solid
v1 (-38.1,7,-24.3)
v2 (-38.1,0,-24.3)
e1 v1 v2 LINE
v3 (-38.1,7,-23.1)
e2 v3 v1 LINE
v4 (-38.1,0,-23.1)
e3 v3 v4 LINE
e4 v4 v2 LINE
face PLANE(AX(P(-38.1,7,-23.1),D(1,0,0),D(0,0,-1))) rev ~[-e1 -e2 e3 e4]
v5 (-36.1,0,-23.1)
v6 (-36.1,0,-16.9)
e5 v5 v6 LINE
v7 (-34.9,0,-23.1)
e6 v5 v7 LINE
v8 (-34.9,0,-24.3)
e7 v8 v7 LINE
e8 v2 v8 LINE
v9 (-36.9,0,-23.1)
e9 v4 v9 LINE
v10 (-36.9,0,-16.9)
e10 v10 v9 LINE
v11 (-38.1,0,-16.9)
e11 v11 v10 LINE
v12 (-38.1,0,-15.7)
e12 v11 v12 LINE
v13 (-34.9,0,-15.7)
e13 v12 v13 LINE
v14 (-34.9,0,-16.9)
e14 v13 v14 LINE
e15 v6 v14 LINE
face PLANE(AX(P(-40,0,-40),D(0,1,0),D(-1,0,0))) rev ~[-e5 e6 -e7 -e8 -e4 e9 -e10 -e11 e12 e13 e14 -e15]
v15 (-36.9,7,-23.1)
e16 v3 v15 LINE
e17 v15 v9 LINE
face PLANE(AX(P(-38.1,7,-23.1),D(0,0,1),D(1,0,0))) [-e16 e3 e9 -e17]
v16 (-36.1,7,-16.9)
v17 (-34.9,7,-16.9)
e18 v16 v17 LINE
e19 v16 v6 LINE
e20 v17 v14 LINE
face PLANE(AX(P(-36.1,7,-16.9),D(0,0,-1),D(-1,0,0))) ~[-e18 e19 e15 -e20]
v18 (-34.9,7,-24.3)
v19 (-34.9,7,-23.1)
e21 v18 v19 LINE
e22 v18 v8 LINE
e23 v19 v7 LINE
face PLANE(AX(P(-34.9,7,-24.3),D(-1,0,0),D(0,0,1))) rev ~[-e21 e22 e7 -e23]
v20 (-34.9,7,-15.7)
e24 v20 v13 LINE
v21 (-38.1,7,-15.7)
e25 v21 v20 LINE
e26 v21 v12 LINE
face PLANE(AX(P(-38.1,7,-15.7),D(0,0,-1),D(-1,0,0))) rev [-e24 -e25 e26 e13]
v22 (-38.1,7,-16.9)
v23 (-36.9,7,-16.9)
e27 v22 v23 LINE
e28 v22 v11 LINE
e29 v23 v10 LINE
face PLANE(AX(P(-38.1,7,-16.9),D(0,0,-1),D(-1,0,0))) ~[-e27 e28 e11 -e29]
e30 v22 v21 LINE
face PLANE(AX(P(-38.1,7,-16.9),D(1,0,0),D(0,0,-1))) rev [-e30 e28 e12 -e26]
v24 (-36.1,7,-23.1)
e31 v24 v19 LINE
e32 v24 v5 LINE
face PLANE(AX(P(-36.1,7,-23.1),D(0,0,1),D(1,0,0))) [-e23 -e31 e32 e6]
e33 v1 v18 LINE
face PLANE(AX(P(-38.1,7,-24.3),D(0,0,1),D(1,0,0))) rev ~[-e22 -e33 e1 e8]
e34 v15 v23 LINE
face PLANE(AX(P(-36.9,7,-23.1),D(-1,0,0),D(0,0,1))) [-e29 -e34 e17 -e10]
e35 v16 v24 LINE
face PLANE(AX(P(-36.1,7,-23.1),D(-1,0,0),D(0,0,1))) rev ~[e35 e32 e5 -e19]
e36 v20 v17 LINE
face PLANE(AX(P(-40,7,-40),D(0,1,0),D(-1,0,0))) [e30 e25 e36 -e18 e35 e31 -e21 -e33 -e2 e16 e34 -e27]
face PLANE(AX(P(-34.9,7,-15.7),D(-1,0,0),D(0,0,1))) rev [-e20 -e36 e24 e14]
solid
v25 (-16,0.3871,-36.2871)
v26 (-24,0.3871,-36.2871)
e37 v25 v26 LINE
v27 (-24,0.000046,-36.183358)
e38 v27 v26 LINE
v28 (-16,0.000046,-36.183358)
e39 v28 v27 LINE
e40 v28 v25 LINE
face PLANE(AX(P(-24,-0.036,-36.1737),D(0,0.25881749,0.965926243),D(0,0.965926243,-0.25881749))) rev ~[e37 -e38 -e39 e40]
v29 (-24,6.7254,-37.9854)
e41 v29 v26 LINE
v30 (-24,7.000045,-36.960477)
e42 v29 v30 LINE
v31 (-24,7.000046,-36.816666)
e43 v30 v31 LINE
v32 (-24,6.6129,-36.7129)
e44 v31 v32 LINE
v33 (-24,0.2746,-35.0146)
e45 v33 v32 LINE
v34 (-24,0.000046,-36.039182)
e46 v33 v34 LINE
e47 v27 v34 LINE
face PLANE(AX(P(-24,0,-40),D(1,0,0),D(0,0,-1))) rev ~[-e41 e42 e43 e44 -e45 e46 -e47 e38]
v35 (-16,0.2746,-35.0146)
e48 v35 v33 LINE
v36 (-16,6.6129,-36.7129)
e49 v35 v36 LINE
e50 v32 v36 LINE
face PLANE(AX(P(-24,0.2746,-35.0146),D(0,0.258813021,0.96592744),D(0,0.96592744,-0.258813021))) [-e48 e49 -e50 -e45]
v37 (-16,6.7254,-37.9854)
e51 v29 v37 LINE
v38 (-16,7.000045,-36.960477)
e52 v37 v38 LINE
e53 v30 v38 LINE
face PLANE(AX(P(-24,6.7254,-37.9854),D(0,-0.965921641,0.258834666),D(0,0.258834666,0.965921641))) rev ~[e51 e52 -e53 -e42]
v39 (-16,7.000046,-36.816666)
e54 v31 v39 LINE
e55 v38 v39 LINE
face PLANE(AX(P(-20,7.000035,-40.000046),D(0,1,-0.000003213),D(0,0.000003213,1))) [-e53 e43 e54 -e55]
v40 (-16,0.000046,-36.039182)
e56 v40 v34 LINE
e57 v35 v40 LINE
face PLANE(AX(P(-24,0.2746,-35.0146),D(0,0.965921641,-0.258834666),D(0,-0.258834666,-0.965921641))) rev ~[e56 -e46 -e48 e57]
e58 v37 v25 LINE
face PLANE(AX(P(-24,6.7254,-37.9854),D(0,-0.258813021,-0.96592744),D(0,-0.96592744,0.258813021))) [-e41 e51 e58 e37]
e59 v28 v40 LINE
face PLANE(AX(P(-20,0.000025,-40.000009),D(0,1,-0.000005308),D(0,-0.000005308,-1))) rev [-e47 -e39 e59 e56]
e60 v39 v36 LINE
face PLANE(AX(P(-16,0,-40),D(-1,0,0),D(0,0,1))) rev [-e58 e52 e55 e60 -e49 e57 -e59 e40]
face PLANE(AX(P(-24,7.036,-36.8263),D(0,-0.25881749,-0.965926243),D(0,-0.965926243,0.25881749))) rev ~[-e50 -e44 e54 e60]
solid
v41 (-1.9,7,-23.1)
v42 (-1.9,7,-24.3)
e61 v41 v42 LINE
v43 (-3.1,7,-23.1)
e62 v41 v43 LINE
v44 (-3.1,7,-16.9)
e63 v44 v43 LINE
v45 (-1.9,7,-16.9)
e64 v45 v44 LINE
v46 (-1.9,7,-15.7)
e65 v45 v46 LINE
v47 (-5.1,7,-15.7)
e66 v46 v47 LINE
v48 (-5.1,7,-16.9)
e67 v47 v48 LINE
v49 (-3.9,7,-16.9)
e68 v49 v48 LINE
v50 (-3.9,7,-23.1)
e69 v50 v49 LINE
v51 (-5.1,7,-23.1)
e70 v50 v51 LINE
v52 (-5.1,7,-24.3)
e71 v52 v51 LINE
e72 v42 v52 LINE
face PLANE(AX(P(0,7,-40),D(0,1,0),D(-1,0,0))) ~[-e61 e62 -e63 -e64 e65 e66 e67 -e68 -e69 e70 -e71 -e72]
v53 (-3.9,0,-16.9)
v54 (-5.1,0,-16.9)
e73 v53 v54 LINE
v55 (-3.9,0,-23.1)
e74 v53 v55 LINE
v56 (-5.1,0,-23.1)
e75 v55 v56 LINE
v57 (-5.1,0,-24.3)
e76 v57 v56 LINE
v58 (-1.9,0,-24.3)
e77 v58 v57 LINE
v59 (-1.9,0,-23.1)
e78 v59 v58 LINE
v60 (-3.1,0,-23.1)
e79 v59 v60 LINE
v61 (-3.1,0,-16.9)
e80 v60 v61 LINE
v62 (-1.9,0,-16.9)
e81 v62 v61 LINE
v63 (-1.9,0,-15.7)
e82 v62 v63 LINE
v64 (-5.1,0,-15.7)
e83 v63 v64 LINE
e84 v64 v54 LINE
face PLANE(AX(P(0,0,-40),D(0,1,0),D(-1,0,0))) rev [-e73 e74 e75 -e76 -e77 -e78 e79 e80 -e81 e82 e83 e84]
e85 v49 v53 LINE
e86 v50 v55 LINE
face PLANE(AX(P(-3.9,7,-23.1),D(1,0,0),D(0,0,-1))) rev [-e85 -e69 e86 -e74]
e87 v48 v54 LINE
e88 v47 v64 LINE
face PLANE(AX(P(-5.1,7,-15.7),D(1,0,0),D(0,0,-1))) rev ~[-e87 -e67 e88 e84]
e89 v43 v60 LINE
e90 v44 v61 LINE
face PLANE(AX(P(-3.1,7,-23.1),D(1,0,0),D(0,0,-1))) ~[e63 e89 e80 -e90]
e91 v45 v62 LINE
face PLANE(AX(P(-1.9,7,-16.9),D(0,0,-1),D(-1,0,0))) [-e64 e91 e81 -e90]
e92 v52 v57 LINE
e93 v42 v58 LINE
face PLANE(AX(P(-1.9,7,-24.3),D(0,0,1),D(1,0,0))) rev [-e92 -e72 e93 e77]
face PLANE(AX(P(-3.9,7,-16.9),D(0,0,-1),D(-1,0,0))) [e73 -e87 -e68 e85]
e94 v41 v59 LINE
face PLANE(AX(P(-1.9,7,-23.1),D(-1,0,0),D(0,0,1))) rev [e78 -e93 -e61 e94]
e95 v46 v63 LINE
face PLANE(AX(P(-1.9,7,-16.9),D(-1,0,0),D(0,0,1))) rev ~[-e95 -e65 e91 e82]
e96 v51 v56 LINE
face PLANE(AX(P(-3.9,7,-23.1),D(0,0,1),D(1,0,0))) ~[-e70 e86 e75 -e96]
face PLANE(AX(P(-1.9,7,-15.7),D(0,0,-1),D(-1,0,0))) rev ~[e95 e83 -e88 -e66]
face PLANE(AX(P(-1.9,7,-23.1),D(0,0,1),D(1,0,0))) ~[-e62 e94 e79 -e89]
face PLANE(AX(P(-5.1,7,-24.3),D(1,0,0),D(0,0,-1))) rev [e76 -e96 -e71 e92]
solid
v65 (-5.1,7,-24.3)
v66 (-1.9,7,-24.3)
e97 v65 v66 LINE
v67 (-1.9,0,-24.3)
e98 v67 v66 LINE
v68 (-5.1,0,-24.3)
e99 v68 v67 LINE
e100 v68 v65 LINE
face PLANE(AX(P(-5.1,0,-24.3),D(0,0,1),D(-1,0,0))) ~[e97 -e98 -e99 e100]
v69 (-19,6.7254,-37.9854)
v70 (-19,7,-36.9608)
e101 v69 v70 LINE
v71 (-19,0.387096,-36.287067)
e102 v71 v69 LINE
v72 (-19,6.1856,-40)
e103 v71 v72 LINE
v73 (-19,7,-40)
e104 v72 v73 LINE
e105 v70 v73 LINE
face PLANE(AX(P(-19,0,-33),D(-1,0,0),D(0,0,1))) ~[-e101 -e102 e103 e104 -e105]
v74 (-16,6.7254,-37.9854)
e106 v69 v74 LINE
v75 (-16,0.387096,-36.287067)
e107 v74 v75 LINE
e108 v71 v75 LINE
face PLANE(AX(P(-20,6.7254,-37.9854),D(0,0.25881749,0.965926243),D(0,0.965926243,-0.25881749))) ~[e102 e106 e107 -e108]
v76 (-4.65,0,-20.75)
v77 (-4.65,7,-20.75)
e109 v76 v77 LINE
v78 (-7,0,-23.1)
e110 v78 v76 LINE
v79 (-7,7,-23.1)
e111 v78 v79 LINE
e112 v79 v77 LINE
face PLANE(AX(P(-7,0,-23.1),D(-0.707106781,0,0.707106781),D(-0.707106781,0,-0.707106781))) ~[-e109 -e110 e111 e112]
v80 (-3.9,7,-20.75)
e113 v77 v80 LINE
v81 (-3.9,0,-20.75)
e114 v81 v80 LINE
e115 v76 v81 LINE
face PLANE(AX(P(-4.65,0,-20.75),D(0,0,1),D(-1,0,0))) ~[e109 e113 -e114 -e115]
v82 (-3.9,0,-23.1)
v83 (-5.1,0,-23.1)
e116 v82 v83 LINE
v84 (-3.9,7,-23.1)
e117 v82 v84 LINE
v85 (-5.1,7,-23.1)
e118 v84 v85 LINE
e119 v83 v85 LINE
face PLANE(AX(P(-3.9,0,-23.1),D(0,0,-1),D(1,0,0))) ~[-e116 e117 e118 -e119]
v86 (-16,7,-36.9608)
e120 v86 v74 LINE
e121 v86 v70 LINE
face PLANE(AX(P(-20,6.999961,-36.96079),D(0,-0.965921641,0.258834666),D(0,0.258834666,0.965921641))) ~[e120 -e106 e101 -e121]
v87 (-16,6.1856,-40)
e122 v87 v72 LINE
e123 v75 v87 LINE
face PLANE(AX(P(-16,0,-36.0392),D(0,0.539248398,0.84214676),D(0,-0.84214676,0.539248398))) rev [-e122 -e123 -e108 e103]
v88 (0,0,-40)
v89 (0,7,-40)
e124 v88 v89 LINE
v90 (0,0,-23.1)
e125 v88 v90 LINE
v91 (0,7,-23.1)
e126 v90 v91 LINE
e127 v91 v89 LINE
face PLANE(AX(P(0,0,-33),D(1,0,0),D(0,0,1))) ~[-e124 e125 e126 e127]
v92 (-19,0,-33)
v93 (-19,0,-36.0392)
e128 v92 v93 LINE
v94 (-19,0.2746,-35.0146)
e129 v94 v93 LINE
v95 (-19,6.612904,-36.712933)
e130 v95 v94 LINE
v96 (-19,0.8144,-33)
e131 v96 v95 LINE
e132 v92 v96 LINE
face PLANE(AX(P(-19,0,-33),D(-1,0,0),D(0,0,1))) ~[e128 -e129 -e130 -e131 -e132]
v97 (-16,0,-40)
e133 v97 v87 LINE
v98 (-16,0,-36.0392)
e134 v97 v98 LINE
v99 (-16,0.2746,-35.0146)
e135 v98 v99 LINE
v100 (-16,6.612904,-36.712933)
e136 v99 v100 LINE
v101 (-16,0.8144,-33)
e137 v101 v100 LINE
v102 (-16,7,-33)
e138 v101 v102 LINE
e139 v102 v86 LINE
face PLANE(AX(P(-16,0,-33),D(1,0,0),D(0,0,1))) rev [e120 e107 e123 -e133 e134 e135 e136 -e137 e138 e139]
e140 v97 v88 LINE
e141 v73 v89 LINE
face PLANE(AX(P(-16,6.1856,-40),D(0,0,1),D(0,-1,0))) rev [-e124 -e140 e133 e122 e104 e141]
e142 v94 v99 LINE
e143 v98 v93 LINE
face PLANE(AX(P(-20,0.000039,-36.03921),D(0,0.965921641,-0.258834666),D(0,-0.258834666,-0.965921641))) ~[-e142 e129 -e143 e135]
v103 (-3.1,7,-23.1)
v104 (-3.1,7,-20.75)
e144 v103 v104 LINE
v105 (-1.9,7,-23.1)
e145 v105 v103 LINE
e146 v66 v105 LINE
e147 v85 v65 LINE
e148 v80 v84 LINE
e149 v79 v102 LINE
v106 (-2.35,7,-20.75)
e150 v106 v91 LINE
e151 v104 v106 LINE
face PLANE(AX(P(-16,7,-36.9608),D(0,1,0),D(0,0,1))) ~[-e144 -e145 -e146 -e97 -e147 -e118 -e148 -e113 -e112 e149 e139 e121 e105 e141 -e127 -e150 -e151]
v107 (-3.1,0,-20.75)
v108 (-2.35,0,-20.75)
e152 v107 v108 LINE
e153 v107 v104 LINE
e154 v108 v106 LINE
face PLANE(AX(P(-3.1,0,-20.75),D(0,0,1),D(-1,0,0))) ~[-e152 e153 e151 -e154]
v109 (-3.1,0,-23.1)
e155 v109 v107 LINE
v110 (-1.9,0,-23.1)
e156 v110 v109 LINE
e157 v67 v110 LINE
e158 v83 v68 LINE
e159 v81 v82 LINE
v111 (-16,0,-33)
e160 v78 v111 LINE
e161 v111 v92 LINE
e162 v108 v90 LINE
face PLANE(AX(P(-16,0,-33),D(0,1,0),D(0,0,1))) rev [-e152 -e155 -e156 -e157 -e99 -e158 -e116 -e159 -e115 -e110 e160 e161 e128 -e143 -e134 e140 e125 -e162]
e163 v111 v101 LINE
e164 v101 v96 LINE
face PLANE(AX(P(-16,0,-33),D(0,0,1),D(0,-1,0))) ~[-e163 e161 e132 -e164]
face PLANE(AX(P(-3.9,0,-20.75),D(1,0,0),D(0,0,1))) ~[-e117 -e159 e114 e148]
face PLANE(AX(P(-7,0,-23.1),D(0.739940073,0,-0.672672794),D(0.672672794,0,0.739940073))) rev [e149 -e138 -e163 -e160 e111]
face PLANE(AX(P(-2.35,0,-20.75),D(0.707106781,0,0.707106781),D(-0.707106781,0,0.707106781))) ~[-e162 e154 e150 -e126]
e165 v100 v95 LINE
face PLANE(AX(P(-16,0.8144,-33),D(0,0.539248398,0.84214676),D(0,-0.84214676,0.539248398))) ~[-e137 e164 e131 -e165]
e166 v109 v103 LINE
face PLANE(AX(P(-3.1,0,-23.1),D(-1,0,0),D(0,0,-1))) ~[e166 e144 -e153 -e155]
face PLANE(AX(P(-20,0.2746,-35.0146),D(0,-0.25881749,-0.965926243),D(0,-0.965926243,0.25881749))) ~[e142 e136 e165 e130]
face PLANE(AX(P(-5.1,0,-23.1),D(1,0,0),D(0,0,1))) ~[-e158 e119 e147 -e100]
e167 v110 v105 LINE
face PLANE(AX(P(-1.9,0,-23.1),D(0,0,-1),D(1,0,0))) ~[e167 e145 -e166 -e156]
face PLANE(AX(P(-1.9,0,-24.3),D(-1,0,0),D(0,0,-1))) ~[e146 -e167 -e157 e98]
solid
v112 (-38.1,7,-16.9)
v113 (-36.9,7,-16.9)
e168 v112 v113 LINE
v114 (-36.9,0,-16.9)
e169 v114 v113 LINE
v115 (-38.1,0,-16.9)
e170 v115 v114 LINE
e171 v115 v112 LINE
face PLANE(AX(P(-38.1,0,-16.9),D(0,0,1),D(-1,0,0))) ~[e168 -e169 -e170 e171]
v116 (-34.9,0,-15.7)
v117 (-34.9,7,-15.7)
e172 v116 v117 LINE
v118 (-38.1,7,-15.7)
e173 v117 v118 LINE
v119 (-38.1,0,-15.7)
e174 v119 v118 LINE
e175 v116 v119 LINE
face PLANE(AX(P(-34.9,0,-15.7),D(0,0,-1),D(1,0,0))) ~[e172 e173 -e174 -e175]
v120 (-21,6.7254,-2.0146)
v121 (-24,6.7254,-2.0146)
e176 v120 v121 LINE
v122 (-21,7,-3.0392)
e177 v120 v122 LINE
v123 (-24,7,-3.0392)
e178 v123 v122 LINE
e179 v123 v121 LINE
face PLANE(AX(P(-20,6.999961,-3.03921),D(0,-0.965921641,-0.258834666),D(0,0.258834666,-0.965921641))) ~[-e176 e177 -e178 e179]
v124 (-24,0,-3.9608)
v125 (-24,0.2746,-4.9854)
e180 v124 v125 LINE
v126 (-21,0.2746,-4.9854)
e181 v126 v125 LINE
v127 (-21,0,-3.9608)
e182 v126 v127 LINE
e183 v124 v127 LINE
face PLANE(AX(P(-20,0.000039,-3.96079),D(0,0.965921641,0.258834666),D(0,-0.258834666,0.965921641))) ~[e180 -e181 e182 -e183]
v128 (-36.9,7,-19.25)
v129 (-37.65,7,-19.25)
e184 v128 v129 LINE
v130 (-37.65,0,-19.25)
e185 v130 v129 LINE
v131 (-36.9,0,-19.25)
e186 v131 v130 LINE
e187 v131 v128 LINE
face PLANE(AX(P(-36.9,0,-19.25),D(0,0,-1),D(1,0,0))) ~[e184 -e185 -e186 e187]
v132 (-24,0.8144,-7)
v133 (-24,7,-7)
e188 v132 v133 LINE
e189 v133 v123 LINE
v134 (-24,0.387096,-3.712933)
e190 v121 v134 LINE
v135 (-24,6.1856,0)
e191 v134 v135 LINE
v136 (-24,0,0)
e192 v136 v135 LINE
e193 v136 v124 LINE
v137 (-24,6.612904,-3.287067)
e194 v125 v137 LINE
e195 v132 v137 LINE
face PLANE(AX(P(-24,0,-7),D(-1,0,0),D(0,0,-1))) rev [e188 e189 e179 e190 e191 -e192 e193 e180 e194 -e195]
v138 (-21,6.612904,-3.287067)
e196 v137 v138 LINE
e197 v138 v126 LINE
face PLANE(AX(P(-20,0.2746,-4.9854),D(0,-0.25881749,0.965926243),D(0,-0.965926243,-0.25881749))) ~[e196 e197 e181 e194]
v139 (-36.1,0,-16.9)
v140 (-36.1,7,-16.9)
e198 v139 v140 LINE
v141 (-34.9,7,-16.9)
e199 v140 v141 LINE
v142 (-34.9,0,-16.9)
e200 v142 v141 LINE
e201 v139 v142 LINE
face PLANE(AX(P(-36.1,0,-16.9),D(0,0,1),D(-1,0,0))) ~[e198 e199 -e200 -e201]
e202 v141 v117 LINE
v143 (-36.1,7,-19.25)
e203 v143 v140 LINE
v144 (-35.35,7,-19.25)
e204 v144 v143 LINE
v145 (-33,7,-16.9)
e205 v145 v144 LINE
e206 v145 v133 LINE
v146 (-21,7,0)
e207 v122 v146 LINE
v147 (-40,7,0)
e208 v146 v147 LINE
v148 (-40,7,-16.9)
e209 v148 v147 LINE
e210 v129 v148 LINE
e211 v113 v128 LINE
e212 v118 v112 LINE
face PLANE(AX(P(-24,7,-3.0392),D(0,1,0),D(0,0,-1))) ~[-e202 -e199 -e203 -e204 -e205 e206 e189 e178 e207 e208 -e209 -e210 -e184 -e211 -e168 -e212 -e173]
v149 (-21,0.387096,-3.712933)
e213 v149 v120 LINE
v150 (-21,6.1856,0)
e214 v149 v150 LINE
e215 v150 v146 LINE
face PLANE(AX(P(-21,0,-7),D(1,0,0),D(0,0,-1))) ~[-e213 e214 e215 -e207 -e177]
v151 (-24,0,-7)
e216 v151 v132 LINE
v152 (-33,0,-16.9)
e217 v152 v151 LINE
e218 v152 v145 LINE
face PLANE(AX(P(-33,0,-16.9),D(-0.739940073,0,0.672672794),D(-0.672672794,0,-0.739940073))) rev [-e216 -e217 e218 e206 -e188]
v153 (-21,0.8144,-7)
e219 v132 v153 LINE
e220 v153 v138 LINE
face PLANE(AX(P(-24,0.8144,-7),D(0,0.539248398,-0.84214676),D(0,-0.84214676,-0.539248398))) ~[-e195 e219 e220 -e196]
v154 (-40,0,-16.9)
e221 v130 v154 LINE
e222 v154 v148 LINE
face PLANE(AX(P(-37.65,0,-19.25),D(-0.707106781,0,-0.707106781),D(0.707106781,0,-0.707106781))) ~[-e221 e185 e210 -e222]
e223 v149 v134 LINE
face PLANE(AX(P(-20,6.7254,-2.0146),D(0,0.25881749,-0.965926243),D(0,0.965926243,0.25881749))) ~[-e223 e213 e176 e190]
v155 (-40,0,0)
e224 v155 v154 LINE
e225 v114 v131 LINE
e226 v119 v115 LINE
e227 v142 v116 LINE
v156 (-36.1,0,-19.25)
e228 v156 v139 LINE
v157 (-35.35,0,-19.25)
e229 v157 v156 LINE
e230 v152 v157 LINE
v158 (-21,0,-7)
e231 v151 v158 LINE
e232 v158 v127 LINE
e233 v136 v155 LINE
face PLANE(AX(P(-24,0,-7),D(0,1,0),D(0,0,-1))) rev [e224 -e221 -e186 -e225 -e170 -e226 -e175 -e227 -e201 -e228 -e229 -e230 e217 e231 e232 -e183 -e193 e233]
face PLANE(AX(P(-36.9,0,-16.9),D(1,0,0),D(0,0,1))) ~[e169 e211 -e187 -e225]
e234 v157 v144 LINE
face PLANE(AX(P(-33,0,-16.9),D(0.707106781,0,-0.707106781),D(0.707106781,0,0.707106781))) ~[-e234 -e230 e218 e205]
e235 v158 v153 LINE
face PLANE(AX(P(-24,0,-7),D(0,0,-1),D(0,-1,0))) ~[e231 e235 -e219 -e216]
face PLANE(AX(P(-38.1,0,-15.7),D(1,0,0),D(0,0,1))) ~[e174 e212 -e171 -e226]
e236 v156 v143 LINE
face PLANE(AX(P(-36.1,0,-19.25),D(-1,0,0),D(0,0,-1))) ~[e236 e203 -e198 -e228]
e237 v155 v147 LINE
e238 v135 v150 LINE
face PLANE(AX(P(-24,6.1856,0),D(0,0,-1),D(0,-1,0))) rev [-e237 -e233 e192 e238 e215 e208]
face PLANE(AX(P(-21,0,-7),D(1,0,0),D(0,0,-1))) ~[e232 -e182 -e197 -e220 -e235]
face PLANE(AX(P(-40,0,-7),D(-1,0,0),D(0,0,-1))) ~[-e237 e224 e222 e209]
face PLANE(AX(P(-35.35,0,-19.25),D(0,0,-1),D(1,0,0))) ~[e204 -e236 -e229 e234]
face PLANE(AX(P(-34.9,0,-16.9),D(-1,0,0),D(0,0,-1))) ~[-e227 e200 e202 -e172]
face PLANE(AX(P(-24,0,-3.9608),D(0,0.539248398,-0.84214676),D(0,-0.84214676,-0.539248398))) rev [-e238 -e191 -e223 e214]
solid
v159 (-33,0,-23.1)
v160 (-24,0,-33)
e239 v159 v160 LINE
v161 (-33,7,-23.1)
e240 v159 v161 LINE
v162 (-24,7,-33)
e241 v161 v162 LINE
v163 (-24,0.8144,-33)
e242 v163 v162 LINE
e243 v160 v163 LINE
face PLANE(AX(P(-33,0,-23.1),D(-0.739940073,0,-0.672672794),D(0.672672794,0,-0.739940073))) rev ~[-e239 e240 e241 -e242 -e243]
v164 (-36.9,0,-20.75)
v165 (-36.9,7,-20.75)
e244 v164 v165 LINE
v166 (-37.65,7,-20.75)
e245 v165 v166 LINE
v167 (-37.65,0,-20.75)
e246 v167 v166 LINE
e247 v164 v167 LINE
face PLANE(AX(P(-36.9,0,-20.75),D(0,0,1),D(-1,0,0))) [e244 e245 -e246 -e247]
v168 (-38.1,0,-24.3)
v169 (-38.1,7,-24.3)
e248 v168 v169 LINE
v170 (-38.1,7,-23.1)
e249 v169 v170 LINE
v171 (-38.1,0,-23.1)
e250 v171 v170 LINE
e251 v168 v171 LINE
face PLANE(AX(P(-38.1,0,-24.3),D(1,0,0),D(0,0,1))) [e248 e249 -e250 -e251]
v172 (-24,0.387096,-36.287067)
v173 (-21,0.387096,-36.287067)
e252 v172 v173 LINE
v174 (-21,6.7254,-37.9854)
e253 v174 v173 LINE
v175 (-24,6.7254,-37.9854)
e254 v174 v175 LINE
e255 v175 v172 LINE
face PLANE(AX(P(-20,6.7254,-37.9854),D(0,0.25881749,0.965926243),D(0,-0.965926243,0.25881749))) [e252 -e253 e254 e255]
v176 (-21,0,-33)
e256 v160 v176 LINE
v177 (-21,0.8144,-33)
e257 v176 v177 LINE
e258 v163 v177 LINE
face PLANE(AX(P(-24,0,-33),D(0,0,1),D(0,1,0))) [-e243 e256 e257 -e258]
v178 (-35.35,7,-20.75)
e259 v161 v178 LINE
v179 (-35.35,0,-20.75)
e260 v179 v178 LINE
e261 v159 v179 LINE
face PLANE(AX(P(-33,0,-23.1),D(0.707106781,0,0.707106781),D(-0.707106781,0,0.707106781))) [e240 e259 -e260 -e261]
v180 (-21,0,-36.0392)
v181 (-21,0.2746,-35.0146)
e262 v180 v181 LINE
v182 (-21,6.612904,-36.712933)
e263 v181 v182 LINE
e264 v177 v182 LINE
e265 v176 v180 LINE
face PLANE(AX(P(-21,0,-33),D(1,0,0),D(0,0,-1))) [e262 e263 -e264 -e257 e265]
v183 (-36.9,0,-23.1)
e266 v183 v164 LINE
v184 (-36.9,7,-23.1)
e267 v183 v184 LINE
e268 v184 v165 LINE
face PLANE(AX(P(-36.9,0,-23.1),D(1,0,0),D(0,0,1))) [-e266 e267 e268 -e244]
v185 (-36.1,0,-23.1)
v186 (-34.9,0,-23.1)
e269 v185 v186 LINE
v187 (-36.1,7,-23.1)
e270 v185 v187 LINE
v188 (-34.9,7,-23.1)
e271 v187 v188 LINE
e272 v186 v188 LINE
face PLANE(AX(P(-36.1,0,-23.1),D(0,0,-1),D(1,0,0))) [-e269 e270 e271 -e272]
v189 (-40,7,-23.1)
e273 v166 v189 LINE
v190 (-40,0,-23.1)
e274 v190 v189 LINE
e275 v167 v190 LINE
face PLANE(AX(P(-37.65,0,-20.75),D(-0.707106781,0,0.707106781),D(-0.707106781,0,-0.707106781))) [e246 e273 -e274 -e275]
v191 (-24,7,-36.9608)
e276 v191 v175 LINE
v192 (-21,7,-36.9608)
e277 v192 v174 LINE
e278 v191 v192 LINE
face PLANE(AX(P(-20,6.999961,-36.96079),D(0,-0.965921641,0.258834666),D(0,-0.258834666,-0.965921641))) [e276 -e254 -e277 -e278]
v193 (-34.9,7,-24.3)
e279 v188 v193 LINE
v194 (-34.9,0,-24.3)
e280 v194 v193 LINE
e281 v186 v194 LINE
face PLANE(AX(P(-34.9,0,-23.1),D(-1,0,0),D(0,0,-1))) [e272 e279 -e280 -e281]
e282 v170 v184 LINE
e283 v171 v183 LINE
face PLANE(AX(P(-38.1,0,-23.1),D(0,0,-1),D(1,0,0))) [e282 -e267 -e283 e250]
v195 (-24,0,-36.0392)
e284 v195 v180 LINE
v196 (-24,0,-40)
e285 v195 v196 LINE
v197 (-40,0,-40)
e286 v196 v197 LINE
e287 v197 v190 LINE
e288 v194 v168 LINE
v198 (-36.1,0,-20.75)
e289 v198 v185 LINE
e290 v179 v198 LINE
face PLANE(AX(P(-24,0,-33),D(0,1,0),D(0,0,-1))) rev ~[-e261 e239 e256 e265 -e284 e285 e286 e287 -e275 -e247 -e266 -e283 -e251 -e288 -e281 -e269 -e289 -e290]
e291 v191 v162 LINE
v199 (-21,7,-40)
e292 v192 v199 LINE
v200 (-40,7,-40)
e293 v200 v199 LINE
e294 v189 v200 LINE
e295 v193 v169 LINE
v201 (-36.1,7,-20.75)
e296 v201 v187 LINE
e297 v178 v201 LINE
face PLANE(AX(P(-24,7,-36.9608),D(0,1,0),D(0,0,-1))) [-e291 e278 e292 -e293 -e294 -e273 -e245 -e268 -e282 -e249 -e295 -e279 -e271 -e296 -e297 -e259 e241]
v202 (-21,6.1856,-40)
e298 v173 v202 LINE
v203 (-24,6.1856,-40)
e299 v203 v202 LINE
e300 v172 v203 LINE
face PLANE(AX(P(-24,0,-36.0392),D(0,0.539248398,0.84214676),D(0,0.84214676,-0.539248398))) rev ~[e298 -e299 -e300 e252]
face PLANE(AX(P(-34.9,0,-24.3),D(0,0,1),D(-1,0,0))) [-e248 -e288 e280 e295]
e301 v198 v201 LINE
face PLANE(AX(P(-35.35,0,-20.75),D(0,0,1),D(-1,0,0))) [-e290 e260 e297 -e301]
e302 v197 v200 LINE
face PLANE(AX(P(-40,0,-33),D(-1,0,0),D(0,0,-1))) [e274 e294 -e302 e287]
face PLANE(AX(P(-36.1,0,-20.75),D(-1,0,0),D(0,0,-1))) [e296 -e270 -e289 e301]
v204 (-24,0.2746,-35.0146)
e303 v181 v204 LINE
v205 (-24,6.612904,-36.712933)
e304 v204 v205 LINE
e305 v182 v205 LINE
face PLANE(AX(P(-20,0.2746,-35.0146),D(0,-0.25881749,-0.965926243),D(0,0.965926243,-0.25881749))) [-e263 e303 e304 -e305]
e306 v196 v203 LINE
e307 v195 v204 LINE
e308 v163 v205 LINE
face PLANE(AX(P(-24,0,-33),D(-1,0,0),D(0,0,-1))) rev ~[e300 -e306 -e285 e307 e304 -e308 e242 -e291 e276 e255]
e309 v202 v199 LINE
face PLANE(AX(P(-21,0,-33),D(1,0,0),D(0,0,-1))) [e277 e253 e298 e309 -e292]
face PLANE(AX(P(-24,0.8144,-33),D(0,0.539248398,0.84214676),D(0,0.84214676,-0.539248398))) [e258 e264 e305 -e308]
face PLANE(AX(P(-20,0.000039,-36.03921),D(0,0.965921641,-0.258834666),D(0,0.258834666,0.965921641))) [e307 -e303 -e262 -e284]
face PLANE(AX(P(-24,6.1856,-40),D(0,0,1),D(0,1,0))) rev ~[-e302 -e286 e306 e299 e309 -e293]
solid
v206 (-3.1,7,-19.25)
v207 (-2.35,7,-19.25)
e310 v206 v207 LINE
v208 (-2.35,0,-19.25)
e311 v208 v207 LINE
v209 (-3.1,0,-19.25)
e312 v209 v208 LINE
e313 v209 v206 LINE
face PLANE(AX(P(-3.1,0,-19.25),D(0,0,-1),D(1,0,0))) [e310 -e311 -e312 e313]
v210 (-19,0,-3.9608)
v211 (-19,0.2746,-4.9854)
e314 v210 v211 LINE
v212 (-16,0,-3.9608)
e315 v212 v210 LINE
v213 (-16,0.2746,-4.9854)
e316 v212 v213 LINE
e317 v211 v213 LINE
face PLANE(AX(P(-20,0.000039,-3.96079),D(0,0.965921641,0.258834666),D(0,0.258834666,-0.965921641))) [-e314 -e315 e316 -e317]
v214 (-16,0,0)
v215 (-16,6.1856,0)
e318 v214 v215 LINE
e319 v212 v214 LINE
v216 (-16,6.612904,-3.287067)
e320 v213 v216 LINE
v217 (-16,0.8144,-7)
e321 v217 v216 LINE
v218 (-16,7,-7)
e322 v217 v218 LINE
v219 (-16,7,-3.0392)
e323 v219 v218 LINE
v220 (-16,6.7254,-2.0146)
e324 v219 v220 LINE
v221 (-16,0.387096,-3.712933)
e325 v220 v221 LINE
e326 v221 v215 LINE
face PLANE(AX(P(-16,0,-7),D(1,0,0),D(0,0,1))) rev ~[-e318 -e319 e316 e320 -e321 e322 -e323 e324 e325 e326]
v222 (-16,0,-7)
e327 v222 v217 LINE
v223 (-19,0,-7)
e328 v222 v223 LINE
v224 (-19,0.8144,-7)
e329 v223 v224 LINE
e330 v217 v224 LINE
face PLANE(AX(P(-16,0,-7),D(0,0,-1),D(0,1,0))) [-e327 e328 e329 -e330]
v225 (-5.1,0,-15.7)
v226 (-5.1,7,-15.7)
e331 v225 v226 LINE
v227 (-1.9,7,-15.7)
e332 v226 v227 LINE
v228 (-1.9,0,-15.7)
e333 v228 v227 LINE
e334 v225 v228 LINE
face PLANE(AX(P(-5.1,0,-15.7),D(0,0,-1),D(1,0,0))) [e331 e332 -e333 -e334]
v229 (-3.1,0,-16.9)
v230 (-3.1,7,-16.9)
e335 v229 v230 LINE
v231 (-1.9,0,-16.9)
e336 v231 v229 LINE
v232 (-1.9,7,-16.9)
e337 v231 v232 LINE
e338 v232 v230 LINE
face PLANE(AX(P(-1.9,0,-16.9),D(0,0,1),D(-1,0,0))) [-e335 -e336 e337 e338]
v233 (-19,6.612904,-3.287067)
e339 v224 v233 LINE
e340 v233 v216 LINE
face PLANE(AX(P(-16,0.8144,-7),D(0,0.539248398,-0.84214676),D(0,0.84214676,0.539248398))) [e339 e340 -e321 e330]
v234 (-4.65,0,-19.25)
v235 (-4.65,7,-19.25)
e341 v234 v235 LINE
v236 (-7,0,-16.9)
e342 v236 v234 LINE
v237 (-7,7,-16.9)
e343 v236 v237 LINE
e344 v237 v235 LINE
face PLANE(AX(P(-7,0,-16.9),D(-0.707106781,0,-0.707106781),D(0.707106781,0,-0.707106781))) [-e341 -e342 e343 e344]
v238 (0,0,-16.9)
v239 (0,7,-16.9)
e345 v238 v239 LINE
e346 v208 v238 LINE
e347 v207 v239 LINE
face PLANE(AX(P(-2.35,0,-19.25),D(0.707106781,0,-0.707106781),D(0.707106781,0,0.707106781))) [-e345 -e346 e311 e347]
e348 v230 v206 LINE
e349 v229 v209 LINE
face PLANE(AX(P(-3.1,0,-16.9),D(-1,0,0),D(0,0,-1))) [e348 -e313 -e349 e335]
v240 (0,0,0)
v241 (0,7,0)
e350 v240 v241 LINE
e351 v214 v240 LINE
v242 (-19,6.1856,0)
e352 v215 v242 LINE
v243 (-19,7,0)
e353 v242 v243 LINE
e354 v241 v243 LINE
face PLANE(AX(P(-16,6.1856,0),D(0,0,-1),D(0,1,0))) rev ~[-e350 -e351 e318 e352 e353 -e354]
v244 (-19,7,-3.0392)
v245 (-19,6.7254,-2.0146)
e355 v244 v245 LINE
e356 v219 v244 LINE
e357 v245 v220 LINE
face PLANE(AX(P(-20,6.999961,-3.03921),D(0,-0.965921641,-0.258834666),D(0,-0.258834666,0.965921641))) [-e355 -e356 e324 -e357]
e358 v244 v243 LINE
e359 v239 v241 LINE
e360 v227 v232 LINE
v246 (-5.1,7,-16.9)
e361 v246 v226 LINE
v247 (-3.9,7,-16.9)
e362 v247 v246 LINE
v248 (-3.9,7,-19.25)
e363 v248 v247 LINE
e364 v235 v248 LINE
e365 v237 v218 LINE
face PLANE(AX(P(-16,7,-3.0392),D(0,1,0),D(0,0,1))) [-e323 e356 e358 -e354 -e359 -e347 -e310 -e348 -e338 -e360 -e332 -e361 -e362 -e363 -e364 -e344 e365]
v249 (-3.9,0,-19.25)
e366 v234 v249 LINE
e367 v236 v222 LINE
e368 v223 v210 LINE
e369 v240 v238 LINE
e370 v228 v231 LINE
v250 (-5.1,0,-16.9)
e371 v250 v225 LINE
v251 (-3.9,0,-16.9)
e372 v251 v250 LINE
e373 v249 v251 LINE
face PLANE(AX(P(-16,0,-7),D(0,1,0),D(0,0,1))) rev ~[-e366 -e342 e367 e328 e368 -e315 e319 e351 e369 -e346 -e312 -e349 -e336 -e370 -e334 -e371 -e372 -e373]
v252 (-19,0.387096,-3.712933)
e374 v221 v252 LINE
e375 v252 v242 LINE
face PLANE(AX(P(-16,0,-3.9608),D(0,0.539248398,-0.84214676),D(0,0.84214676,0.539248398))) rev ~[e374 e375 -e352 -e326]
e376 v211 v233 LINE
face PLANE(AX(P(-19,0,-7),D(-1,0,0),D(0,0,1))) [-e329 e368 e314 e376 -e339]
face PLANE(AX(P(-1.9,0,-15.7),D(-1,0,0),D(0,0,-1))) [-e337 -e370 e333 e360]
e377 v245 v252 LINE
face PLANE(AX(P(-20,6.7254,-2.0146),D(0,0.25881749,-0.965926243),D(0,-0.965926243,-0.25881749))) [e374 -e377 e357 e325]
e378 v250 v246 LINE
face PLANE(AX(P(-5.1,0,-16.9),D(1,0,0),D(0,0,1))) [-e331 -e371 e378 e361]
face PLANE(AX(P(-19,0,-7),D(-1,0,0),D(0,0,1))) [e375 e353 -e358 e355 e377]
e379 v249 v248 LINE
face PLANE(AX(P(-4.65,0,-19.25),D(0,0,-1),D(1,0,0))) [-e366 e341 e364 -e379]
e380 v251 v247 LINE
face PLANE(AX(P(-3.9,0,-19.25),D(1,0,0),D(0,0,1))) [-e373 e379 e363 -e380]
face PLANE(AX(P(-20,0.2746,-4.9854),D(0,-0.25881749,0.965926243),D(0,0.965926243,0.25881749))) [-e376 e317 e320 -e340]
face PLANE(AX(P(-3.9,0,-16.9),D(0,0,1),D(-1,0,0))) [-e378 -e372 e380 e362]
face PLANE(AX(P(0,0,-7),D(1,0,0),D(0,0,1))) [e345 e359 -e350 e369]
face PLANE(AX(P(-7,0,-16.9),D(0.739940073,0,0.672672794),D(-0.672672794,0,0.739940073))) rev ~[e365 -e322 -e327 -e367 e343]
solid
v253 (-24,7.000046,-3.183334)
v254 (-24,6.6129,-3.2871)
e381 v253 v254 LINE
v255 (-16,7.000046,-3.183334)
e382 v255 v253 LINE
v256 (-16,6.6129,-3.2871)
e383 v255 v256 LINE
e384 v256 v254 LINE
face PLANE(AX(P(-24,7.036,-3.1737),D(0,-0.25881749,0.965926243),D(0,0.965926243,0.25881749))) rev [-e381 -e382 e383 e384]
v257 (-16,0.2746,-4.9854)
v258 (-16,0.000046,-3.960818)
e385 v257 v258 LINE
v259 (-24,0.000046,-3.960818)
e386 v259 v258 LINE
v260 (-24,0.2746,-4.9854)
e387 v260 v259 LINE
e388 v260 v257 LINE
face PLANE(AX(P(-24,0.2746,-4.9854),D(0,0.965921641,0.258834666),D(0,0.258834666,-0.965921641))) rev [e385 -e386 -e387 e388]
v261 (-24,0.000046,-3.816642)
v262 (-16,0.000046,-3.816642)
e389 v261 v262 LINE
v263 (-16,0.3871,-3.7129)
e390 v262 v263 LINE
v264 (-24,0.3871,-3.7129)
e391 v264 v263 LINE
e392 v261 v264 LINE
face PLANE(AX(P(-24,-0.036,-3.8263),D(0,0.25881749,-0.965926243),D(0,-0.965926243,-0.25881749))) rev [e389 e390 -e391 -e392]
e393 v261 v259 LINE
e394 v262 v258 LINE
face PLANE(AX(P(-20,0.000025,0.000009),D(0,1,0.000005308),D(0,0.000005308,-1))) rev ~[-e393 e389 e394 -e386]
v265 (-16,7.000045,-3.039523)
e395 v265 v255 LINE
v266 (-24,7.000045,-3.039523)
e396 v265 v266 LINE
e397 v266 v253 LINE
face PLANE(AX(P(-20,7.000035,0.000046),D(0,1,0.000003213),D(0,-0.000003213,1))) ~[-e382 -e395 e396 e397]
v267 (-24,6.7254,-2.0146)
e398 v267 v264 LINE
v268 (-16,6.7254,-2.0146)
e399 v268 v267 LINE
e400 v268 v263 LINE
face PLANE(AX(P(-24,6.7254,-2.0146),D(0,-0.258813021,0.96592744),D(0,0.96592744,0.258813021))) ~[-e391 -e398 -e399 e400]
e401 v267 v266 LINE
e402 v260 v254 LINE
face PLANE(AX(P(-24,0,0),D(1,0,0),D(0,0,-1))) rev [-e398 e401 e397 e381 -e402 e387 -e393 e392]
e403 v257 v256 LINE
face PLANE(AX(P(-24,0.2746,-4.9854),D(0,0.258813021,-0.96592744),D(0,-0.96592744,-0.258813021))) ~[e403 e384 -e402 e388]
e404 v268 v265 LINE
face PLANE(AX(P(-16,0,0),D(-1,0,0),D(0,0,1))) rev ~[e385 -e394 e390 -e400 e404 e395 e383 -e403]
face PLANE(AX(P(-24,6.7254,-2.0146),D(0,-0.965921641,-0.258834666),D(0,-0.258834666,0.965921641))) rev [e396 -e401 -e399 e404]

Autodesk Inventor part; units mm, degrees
ref_plane "YZ Plane" through (0, 0, 0) normal (1, 0, 0) x (0, 1, 0)
ref_plane "XZ Plane" through (0, 0, 0) normal (0, 1, 0) x (-1, 0, 0)
sketch "Sketch1" plane through (0, 0, 0) normal (0, 1, 0) x (-1, 0, 0)
  line L0 (0, 0) -> (7, 0)
  line L1 (7, 0) -> (7, -7) construction
  line L2 (7, -7) -> (0, -7) construction
  line L3 (0, -7) -> (0, 0)
  line L4 (7, 0) -> (16, 0)
  line L5 (16, -7) -> (7, -7)
  line L6 (7, -7) -> (7, -16.9)
  line L7 (7, -16.9) -> (3.9, -20)
  line L8 (3.9, -20) -> (3.9, -16.9)
  line L9 (3.1, -16.9) -> (3.1, -20)
  line L10 (3.1, -20) -> (0, -16.9)
  line L11 (0, -16.9) -> (0, -7)
  line L12 (3.9, -20) -> (3.1, -20)
  line L13 (3.5, -15.7) -> (3.5, -20) construction
  line L14 (7, -16.9) -> (3.9, -16.9) construction
  line L15 (3.1, -16.9) -> (0, -16.9) construction
  line L16 (3.1, 0) -> (3.1, -20) construction
  line L17 (4.65, -19.25) -> (3.9, -19.25)
  line L18 (3.1, -19.25) -> (2.35, -19.25)
  line L19 (3.9, -20) -> (4.275, -19.25) construction
  line L20 (16, -7) -> (16, 0)
  line L21 (0, -3.5) -> (20, -3.5) construction
  line L22 (7, -16.9) -> (16, -7)
  line L23 (5.1, -15.7) -> (1.9, -15.7)
  line L24 (1.9, -15.7) -> (1.9, -16.9)
  line L25 (5.1, -16.9) -> (5.1, -15.7)
  line L26 (1.9, -16.9) -> (3.1, -16.9)
  line L27 (3.9, -16.9) -> (5.1, -16.9)
  point P0 (3.5, -7)
  dimension "L_2" = 20
  dimension "wLink" = 7
  dimension "wFlex" = 0.8
  dimension "LenFlex" = 0.75
  dimension "LenDiagTPU" = 4
  dimension "d66" = 45
  dimension "d101" = 1.2
extrude "Extrusion1" add sketch "Sketch1" along normal blind 7 contours L0 L4 L20 L5 L6 L7 L17 L8 L27 L25 L23 L24 L26 L9 L18 L10 L11 L3 | L22 L6 L5
ref_plane "Work Plane5" through (-20, 0, -7) normal (-1, 0, 0) x (0, 0, 1)
sketch "Sketch10" plane through (-16, 0, -7) normal (-1, 0, 0) x (0, 0, 1)
  line L0 (2.2078, 0.2228) -> (4.0195, 6.9843) construction
  line L1 (4.0195, 6.9843) -> (4.7922, 6.7772) construction
  line L2 (4.7922, 6.7772) -> (2.9805, 0.0157) construction
  line L3 (2.9805, 0.0157) -> (2.2078, 0.2228) construction
  line L4 (2.5941, 0.1193) -> (4.4059, 6.8807) construction
  line L5 (7, 0) -> (7, 7) projected
  line L6 (7, 3.5) -> (3.5, 3.5) construction
  line L7 (0, 0) -> (7, 0) projected
  line L8 (3.5, 0) -> (3.5, 3.5) construction
  line L9 (0, 7) -> (7, 7) projected
  line L10 (3.9608, 7) -> (4.0195, 6.9843) construction
  line L11 (4.7922, 6.7772) -> (7, 6.1856) construction
  line L12 (2.2078, 0.2228) -> (0, 0.8144) construction
  line L13 (0, 0) -> (0, 7) projected
  line L14 (2.9805, 0.0157) -> (3.0392, 0) construction
  line L15 (3.0392, 0) -> (7, 6.1856)
  line L16 (0, 0.8144) -> (3.9608, 7)
  line L17 (0, 0.8144) -> (0, 0)
  line L18 (-9.9, 0) -> (0, 0) projected
  line L19 (3.0392, 0) -> (0, 0)
  line L20 (3.9608, 7) -> (7, 7)
  line L21 (7, 6.1856) -> (7, 7)
  dimension "d102" = 0.8
  dimension "d103" = 75
extrude "Extrusion9" add sketch "Sketch10" along normal blind 3 contours L15 L7 L13 L16 L9 L5
sketch "Sketch11" plane through (-20, 0, -7) normal (-1, 0, 0) x (0, 0, 1)
  line L0 (2.0146, 0.2746) -> (3.8263, 7.036)
  line L1 (3.8263, 7.036) -> (4.9854, 6.7254)
  line L2 (4.9854, 6.7254) -> (3.1737, -0.036)
  line L3 (3.1737, -0.036) -> (2.0146, 0.2746)
  line L4 (3.8263, 7.036) -> (3.9608, 7)
  line L5 (3.1737, -0.036) -> (3.0392, 0)
  point P0 (0, 0.8144)
  dimension "d104" = 1.2
extrude "Extrusion10" cut sketch "Sketch11" against normal blind 4
sketch "Sketch22" plane through (0, 7, 0) normal (0, 1, 0) x (1, 0, 0)
  line L0 (-5.1, 15.7) -> (-5.1, 16.9) projected
  line L1 (-1.9, 15.7) -> (-5.1, 15.7) projected
  line L2 (-5.1, 15.7) -> (-1.9, 15.7)
  line L3 (-1.9, 16.9) -> (-1.9, 15.7) projected
  line L4 (-1.9, 15.7) -> (-1.9, 16.9)
  line L5 (-1.9, 16.9) -> (-3.1, 16.9)
  line L6 (-3.1, 16.9) -> (-3.1, 20)
  line L7 (-3.1, 20) -> (-3.9, 20)
  line L8 (-3.9, 16.9) -> (-3.9, 19.25) projected
  line L9 (-3.9, 20) -> (-3.9, 16.9)
  line L10 (-3.9, 16.9) -> (-5.1, 16.9)
  line L11 (-5.1, 16.9) -> (-5.1, 15.7)
  line L12 (4, 20) -> (-24, 20) projected
  point P0 (0, 0)
extrude "Extrusion19" add sketch "Sketch22" against normal up to surface (7 mm away) separate body
sketch "Sketch23" plane through (-16, 0, 0) normal (-1, 0, 0) x (0, 0, 1)
  line L0 (-2.0146, 6.7254) -> (-3.7129, 0.3871) projected
  line L1 (-2.0146, 6.7254) -> (-3.1737, 7.036)
  line L2 (-4.9854, 0.2746) -> (-3.2871, 6.6129) projected
  line L3 (-3.1737, 7.036) -> (-4.9854, 0.2746)
  line L4 (-4.9854, 0.2746) -> (-3.8263, -0.036)
  line L5 (-3.8263, -0.036) -> (-2.0146, 6.7254)
  point P0 (0, 0)
  point P1 (-3.7129, 0.3871)
extrude "Extrusion20" add sketch "Sketch23" along normal up to surface (4 mm away) bodies 2
sketch "Sketch25" plane through (-20, 0.2746, -4.9854) normal (-1, 0, 0) x (0, -0.2588, 0.9659)
  point P0 (4.8866, 1.0251)
sketch "Sketch26" plane through (-20, 0.2746, -4.9854) normal (-1, 0, 0) x (0, -0.2588, 0.9659)
  line L0 (3.0749, 7.7866) -> (-13.2493, 3.4126) projected
  line L1 (3.0749, 7.7866) -> (4.8866, 1.0251)
  line L2 (4.8866, 1.0251) -> (-1.8749, -0.7866)
  line L3 (-2.0856, 0) -> (-3.6866, 5.9749) projected
  line L4 (-1.8749, -0.7866) -> (-3.6866, 5.9749)
  line L5 (-3.6866, 5.9749) -> (3.0749, 7.7866)
  line L6 (-4.299, 6.3284) -> (-2.2284, -1.399)
  line L7 (-2.2284, -1.399) -> (5.499, 0.6716)
  line L8 (5.499, 0.6716) -> (3.4284, 8.399)
  line L9 (3.4284, 8.399) -> (-4.299, 6.3284)
  line L10 (-0.3059, 6.8807) -> (-0.4353, 7.3637) construction
  line L11 (4.8866, 1.0251) -> (3.0749, 7.7866) projected
  line L12 (3.9807, 4.4059) -> (4.4637, 4.5353) construction
  point P0 (-2.0856, 0)
  dimension "d109" = 0.5
extrude "Extrusion21" cut sketch "Sketch26" against normal up to surface (4 mm away) bodies 2
mirror "Mirror1" about plane through (-20, 0, -7) normal (-1, 0, 0) of "Extrusion1", "Extrusion9", "Extrusion10" bodies 1
sketch "Sketch15" plane through (0, 7, 0) normal (0, 1, 0) x (1, 0, 0)
  line L0 (0.1, 17) -> (-2.9, 20) construction
  line L1 (0, 16.9) -> (-2.35, 19.25) projected
  line L2 (-3.1, 19.25) -> (-3.1, 16.9) construction
  line L3 (-2.9, 20) -> (-2.9, 17.1) construction
  point P0 (-2.35, 19.25)
  point P1 (-2.9, 18.4748)
ref_plane "Work Plane10" through (-16, 0, -20) normal (0, 0, 1) x (1, 0, 0)
mirror "Mirror2" about plane through (-16, 0, -20) normal (0, 0, 1) of "Extrusion1", "Mirror1", "Extrusion9", "Extrusion10" bodies 1
mirror "Mirror10" about plane through (-1.8, 7, -20) normal (0, 0, -1) of "Extrusion19", "Extrusion20", "Extrusion21" bodies 2
mirror "Mirror11" about plane through (-20, 0, -7) normal (-1, 0, 0) of "Extrusion19", "Extrusion20", "Mirror10", "Extrusion21" bodies 2
ref_plane "Work Plane7" through (-1.8, 7, -20) normal (0, 0, -1) x (-1, 0, 0)
properties part number "Modular_Bending_v3"
